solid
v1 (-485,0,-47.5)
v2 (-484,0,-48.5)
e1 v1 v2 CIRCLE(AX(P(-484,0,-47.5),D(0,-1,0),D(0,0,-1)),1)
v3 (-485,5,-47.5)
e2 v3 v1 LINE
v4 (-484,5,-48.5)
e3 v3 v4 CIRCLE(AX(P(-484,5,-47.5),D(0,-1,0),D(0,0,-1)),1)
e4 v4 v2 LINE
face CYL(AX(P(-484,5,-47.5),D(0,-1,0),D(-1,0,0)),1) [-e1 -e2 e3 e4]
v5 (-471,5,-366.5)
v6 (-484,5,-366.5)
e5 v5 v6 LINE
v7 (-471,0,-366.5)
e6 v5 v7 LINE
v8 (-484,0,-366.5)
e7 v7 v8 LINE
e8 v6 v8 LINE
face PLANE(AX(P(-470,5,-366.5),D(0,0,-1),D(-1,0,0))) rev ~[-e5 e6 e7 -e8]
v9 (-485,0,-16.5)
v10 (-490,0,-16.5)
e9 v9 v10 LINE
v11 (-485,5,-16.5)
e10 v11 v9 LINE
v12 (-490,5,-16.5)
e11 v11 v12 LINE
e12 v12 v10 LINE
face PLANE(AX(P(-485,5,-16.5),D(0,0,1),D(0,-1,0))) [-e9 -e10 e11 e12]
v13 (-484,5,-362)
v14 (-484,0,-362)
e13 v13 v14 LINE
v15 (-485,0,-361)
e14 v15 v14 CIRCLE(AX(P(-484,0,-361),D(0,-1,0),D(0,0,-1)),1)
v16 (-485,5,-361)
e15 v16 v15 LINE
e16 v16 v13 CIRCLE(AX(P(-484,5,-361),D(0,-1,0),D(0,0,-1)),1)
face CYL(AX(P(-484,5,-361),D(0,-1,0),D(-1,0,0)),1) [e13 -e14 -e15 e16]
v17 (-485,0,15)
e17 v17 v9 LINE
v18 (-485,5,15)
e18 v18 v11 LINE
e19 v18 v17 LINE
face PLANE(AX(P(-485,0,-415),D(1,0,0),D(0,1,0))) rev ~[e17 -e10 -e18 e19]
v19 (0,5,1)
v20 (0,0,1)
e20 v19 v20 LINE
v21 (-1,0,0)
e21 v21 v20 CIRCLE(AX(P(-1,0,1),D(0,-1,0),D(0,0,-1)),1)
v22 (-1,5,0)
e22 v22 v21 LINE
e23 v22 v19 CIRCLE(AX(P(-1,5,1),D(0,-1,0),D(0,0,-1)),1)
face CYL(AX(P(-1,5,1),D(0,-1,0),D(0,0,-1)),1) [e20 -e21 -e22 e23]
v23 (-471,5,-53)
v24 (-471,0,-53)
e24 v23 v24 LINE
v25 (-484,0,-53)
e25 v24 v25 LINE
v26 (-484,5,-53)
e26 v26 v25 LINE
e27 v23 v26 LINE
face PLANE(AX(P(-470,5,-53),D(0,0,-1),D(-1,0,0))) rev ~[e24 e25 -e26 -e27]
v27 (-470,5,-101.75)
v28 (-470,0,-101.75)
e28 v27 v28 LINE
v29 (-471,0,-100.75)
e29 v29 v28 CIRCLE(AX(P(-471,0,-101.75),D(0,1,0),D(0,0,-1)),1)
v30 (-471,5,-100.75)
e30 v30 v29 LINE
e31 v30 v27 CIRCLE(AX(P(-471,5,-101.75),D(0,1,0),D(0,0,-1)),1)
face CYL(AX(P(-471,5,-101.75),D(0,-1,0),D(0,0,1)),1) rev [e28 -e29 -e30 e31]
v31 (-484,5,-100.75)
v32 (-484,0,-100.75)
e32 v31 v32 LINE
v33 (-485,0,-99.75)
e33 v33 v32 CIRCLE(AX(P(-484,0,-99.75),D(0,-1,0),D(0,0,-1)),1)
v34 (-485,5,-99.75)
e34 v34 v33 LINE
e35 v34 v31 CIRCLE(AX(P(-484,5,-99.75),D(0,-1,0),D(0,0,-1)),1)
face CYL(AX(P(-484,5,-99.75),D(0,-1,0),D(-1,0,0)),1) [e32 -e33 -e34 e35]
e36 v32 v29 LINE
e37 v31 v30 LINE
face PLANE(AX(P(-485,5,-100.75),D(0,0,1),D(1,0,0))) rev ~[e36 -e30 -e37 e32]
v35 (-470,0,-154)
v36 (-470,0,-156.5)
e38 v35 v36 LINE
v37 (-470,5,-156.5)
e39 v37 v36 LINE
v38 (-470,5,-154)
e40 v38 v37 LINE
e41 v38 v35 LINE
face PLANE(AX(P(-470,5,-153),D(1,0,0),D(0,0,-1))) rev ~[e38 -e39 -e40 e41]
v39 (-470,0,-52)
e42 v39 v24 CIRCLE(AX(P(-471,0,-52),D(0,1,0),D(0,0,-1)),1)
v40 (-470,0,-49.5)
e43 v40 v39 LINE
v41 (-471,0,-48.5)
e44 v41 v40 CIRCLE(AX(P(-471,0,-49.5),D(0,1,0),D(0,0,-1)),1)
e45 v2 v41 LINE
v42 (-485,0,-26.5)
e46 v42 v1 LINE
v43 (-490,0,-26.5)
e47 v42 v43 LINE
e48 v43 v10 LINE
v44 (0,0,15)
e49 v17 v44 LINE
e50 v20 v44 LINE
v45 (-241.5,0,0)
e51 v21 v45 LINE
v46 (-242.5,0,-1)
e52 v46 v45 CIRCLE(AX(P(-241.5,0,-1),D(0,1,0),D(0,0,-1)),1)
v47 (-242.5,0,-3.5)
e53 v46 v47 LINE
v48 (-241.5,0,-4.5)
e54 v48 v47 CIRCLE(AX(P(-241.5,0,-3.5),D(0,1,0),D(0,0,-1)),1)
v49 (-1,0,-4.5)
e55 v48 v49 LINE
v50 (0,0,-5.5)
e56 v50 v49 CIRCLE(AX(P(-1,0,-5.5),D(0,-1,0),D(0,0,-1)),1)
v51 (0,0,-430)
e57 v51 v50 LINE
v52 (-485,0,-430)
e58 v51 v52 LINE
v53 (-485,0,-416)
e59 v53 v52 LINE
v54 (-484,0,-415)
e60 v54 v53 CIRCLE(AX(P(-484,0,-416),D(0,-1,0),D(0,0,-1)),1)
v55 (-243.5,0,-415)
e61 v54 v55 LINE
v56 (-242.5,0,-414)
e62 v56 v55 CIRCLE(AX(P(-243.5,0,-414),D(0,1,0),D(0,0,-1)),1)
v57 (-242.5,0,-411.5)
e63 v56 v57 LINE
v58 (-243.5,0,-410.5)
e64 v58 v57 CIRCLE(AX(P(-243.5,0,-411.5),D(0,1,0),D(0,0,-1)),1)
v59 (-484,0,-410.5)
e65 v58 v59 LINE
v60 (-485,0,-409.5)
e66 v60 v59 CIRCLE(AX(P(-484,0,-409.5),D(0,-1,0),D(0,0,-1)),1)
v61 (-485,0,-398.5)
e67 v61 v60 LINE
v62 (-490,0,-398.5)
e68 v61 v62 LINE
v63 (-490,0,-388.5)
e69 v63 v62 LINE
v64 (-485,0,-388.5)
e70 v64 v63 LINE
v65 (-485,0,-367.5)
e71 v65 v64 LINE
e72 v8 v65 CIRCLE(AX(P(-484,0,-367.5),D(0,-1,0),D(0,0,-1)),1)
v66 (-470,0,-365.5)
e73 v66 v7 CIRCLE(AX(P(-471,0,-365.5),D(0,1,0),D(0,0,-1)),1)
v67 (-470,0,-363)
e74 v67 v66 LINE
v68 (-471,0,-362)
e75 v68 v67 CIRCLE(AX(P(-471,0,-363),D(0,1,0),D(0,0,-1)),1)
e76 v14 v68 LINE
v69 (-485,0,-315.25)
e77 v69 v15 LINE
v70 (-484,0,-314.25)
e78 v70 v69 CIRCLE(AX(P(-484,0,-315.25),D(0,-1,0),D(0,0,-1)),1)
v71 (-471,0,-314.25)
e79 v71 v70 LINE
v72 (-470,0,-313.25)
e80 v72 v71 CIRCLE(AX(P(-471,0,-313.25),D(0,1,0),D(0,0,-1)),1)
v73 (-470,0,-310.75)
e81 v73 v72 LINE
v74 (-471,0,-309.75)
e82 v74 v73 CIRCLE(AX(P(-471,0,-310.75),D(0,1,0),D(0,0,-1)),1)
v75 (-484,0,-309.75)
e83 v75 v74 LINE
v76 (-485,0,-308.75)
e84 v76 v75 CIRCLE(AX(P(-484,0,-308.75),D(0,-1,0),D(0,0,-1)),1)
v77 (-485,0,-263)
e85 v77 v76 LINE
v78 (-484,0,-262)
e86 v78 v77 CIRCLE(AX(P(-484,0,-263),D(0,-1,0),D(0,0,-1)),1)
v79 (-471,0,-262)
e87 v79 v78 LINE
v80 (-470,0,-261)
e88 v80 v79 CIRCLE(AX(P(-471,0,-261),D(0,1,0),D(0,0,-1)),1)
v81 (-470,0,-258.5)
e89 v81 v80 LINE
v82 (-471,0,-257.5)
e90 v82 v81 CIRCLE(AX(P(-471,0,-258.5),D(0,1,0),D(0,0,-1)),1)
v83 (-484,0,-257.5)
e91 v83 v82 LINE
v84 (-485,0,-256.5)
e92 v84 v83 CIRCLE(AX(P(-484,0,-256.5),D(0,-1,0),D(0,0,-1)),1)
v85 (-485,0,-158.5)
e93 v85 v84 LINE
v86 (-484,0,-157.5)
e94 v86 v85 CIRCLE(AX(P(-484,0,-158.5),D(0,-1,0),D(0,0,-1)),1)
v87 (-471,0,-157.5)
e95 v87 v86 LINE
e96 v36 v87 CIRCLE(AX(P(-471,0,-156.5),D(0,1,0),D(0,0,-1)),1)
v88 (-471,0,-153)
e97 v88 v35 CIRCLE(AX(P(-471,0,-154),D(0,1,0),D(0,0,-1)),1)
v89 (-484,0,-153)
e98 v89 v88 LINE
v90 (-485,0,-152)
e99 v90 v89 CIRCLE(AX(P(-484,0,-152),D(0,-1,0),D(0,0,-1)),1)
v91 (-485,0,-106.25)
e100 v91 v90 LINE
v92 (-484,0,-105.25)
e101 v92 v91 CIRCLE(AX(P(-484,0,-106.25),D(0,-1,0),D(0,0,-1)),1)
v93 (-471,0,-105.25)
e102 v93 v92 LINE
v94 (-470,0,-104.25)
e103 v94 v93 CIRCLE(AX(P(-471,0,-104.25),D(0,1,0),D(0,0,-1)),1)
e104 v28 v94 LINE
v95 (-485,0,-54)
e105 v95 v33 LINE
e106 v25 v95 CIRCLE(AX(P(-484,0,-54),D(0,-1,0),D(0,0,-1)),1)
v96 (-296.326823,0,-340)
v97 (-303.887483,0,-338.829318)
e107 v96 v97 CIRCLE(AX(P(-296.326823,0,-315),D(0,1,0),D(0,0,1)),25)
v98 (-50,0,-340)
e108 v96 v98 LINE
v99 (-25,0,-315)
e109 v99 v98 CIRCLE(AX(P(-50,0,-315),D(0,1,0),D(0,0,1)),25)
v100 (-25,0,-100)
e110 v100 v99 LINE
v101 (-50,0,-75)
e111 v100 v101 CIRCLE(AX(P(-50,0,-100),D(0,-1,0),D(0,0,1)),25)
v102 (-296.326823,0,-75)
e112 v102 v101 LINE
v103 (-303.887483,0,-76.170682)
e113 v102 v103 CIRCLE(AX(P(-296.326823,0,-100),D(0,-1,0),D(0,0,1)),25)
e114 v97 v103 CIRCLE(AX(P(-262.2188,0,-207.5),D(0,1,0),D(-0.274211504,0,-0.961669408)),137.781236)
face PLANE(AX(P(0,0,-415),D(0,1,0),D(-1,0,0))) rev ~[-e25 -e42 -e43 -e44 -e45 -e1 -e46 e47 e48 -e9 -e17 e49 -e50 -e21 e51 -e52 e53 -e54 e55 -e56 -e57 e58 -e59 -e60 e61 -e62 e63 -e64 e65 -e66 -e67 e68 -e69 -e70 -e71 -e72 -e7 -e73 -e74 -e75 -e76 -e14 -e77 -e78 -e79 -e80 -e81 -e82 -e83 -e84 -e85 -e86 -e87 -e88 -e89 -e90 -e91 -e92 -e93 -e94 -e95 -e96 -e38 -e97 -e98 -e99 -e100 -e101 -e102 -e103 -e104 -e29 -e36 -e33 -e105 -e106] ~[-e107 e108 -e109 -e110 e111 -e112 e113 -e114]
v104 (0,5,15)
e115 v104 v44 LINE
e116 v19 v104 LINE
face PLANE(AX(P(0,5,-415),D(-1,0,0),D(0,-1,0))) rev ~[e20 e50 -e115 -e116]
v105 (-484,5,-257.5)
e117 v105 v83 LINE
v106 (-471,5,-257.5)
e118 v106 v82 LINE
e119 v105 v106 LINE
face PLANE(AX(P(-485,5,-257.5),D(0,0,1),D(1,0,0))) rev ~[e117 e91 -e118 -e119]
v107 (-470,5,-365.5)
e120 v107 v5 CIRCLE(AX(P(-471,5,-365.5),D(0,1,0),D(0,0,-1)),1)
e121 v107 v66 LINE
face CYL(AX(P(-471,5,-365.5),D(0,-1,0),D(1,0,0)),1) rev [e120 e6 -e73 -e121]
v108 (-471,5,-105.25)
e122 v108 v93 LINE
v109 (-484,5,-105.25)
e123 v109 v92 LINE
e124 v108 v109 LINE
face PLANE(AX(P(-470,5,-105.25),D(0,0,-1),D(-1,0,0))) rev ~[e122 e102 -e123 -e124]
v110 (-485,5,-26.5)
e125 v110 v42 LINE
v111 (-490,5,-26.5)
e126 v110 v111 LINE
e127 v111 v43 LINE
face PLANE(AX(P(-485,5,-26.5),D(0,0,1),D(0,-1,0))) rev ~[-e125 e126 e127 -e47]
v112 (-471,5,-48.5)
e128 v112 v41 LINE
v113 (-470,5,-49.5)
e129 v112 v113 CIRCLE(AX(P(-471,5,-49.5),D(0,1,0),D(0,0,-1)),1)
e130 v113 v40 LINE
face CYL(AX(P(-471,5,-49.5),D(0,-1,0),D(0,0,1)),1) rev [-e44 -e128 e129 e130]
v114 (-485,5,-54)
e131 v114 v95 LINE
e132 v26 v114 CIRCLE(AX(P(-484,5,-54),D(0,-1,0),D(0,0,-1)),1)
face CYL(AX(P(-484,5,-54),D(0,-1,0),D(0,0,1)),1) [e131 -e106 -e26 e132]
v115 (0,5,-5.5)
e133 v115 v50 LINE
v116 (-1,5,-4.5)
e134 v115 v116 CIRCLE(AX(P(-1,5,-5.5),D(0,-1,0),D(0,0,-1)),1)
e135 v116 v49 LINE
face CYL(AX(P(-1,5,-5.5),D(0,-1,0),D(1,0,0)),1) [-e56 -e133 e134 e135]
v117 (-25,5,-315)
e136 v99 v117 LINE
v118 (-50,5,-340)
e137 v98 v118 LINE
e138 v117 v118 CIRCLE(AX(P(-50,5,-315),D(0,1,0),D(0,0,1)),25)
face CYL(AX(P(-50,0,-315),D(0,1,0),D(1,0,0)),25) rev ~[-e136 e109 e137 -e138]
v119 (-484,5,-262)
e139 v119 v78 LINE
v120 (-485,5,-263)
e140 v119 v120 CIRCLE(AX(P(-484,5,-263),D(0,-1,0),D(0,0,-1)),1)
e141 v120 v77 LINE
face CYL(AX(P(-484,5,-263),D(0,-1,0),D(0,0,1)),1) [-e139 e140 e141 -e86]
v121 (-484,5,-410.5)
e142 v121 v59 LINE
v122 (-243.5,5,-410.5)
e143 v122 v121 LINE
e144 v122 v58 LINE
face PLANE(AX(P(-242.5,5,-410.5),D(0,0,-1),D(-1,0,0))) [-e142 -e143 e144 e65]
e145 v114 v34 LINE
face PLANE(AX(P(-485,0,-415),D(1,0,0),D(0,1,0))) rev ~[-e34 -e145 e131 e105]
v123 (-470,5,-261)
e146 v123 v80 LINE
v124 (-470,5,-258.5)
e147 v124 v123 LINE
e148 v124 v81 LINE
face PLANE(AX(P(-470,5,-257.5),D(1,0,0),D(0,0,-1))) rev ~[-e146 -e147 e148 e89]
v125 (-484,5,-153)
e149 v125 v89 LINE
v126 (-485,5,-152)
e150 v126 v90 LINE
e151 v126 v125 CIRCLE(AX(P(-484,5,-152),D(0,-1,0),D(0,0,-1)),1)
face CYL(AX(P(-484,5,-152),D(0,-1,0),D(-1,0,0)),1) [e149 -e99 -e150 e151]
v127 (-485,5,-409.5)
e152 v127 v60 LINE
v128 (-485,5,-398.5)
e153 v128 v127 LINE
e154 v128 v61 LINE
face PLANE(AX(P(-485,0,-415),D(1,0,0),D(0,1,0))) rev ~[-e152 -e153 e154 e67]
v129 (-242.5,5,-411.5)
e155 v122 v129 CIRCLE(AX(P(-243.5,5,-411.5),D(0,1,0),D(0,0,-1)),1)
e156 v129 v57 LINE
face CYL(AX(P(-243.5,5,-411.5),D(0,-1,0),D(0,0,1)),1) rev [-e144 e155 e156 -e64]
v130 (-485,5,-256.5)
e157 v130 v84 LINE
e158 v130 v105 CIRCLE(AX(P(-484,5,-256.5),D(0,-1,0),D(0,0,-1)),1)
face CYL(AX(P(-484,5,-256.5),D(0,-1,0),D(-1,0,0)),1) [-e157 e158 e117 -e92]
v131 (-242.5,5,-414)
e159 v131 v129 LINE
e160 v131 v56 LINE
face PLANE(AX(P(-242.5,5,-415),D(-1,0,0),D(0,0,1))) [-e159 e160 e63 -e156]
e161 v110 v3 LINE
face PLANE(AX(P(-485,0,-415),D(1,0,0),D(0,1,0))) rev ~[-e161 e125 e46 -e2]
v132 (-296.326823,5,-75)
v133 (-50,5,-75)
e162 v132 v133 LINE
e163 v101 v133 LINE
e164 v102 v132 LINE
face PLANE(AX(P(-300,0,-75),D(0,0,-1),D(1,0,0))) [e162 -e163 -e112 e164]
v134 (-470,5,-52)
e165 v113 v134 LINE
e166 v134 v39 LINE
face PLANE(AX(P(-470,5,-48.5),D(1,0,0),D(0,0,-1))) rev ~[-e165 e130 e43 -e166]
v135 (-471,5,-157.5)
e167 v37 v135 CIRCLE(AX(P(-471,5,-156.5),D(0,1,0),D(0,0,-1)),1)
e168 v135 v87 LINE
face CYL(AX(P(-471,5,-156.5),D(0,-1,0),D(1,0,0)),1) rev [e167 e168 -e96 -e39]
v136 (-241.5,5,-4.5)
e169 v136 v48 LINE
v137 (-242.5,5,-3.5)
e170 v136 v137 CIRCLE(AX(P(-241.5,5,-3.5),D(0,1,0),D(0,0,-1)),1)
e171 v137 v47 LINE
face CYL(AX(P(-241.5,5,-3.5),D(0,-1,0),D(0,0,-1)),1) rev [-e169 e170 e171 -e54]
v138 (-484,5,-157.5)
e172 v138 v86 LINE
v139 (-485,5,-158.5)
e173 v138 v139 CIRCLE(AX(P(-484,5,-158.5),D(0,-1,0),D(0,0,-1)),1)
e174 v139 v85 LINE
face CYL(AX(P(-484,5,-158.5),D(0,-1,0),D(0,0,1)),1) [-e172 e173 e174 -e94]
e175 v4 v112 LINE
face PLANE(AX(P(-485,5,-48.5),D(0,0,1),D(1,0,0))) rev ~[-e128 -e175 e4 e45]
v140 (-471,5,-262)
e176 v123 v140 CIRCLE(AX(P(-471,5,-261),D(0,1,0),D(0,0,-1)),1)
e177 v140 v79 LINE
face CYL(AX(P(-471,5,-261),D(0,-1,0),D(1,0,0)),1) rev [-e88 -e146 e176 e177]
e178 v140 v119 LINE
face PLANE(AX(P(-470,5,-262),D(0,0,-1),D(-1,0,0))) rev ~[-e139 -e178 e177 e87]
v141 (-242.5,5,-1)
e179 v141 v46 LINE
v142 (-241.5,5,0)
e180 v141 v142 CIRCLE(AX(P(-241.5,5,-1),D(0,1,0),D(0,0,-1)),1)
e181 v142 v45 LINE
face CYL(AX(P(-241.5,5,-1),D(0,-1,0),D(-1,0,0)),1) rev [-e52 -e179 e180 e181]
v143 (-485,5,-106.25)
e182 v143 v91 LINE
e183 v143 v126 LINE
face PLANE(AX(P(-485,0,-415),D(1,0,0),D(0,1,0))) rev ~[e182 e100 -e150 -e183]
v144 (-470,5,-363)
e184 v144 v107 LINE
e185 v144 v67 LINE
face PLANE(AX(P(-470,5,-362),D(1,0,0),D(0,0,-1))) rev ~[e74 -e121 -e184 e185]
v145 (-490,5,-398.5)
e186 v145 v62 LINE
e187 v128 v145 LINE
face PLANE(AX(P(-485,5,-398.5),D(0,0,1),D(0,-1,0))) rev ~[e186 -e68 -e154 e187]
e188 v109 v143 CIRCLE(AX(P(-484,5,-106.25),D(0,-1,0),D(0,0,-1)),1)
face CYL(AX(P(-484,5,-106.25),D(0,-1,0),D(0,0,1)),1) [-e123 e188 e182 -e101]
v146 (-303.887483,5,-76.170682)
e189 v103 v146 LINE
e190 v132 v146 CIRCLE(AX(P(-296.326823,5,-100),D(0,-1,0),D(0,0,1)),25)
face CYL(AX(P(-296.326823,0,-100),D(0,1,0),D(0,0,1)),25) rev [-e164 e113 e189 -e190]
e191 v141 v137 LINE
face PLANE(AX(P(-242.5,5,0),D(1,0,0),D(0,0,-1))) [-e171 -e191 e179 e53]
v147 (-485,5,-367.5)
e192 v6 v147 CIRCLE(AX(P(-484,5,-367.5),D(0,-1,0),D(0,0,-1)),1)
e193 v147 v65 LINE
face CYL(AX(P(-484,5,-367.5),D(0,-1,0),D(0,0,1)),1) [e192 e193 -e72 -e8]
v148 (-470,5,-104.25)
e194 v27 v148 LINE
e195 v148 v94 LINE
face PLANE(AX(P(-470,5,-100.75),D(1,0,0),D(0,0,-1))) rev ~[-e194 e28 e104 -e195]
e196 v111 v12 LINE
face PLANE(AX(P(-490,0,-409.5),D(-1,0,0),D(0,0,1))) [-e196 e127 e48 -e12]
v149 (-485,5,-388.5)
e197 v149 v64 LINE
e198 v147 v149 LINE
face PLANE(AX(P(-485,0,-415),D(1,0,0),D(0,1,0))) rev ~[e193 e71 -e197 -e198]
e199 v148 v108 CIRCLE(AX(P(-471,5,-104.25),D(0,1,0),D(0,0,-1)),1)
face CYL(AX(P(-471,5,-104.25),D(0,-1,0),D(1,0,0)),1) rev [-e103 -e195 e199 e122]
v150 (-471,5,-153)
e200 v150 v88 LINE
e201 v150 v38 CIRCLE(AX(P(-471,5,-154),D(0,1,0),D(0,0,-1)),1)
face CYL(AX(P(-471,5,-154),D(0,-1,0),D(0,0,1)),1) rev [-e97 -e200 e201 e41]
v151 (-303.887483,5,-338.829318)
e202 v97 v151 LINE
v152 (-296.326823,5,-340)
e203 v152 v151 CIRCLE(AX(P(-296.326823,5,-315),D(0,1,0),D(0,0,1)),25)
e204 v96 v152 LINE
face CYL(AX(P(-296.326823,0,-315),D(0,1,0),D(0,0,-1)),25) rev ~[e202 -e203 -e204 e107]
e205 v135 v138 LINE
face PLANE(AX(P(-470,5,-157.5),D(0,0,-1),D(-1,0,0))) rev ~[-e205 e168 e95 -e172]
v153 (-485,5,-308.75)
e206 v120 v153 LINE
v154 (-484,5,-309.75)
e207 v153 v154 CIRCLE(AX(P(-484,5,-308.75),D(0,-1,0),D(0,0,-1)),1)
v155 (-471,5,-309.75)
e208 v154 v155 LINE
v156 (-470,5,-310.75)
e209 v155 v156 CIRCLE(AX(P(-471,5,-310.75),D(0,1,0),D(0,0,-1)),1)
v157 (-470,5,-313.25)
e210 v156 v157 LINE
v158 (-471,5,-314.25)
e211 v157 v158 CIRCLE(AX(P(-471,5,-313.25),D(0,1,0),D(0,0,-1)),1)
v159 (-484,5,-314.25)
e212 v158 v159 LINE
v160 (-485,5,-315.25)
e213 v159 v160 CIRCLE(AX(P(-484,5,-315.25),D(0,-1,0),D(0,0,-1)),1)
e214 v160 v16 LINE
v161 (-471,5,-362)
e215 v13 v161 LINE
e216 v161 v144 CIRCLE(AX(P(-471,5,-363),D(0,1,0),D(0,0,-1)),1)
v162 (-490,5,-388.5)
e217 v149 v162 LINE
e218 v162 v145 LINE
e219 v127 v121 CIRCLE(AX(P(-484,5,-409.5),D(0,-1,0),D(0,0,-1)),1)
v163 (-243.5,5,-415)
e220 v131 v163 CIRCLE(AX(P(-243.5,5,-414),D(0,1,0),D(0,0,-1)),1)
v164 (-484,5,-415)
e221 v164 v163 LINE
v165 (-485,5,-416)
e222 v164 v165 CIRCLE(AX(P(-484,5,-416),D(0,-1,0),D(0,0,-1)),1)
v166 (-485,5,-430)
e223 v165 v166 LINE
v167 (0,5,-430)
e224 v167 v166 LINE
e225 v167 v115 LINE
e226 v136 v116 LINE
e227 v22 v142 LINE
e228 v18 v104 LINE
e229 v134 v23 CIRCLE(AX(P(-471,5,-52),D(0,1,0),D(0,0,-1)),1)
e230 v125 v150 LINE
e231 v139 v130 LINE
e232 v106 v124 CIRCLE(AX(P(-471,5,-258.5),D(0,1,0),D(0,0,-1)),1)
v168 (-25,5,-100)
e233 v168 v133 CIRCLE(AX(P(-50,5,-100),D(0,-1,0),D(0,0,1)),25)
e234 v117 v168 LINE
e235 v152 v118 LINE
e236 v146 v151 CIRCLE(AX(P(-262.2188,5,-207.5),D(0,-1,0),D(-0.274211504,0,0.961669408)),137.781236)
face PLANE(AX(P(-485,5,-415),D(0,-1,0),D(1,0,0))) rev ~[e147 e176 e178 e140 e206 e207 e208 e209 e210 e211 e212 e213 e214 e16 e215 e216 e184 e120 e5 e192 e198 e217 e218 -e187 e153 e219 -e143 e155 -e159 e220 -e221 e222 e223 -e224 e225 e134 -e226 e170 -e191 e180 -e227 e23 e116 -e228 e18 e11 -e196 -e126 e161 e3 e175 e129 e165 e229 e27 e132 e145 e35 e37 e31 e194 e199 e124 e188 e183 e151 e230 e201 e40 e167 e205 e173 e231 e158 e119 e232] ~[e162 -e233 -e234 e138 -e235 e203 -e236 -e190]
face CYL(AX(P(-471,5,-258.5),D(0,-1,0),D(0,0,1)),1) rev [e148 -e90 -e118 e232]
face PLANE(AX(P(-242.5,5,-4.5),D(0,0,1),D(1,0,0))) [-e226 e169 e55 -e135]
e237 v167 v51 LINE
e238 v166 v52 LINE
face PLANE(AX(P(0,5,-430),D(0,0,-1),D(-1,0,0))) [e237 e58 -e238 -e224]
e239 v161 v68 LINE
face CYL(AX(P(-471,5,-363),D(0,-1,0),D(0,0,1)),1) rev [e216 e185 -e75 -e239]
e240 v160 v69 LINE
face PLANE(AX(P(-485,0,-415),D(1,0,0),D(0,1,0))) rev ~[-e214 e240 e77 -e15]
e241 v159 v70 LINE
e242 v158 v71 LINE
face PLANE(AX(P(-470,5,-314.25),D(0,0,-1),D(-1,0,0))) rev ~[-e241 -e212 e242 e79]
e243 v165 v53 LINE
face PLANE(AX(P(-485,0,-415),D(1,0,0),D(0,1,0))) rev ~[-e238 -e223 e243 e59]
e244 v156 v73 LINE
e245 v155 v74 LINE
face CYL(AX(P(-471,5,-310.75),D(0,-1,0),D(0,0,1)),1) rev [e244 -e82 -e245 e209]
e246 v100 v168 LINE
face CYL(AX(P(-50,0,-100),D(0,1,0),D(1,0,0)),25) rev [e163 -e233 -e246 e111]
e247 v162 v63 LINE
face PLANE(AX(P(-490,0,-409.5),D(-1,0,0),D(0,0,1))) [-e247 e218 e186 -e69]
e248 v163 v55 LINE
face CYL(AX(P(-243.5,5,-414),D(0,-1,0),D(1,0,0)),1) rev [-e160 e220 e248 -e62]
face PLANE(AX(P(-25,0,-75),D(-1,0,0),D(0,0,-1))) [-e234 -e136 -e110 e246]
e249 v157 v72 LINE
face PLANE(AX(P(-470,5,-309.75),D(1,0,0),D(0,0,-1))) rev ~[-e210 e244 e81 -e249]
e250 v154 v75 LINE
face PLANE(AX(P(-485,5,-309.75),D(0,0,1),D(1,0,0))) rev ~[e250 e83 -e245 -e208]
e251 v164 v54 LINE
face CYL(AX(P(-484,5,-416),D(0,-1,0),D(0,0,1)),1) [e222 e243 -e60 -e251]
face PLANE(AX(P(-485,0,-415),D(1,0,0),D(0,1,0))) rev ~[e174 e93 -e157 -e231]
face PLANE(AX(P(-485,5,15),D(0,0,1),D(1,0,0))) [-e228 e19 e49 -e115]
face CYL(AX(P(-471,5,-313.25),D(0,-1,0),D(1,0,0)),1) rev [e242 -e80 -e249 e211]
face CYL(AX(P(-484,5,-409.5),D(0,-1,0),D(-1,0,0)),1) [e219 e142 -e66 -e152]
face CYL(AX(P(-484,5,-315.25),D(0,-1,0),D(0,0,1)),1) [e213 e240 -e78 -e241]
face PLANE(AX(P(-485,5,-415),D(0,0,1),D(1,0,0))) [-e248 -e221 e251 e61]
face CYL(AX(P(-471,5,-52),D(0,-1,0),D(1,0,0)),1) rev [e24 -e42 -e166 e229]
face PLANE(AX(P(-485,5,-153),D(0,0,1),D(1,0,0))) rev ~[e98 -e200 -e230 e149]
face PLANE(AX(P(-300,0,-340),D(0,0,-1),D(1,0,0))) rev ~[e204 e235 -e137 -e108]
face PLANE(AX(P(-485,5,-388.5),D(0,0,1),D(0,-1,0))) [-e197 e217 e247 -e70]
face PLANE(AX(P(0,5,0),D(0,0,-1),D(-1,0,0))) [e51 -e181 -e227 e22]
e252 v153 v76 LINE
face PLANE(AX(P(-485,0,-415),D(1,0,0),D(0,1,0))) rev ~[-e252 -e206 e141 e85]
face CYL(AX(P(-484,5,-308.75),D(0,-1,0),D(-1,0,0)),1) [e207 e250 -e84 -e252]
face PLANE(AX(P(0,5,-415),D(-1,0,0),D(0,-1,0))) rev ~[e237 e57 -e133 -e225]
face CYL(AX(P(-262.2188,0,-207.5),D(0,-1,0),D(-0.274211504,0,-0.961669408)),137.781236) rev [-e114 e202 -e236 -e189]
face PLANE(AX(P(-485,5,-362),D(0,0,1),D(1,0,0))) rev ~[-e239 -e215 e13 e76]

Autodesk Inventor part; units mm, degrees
ref_plane "YZ Plane" through (0, 0, 0) normal (1, 0, 0) x (0, 1, 0)
ref_plane "XZ Plane" through (0, 0, 0) normal (0, 1, 0) x (-1, 0, 0)
ref_plane "XY Plane" through (0, 0, 0) normal (0, 0, 1) x (1, 0, 0)
sketch "Sketch1" plane through (0, 0, 0) normal (0, 1, 0) x (-1, 0, 0)
  line L0 (0, 0) -> (485, 0)
  line L1 (485, 0) -> (485, -415)
  line L2 (485, -415) -> (0, -415)
  line L3 (0, -415) -> (0, 0)
  line L4 (0, 0) -> (25, 0)
  line L5 (25, 0) -> (25, -415)
  line L6 (25, -415) -> (0, -415)
  line L7 (0, -415) -> (0, 0)
  line L8 (25, 0) -> (300, 0)
  line L9 (300, 0) -> (300, -75)
  line L10 (300, -75) -> (25, -75)
  line L11 (25, -75) -> (25, 0)
  line L12 (25, -415) -> (300, -415)
  line L13 (300, -415) -> (300, -340)
  line L14 (300, -340) -> (25, -340)
  line L15 (25, -340) -> (25, -415)
  line L16 (25, -207.5) -> (400, -207.5)
  arc A0 (300, -340) -> (300, -75) centre (262.2188, -207.5) ccw
  point P0 (25, -340)
  point P1 (25, -75)
  dimension "d0" = 485
  dimension "d1" = 415
  dimension "d2" = 25
  dimension "d3" = 275
  dimension "d4" = 75
  dimension "d5" = 275
  dimension "d6" = 75
  dimension "d7" = 375
extrude "Extrusion1" add sketch "Sketch1" along normal blind 5 contours L0 L5 L2 L3 | L0 L9 L10 L5 | L0 L1 L2 L13 A0 L9 | L5 L14 L13 L2
fillet "Fillet1" radius 25 4 edges at (-25, 2.5, -340) (-25, 2.5, -75) (-300, 2.5, -75) (-300, 2.5, -340)
sketch "Sketch2" plane through (-485, 0, 0) normal (0, 0, 1) x (1, 0, 0)
  line L0 (0, 0) -> (485, 0) projected
  line L1 (0, 5) -> (485, 5) projected
  line L2 (0, 0) -> (485, 0)
  line L3 (485, 0) -> (485, 5)
  line L4 (485, 5) -> (0, 5)
  line L5 (0, 5) -> (0, 0)
extrude "Extrusion2" add sketch "Sketch2" along normal blind 10
sketch "Sketch3" plane through (0, 0, -415) normal (0, 0, -1) x (-1, 0, 0)
  line L0 (485, 0) -> (485, 5) projected
  line L1 (485, 5) -> (0, 5)
  line L2 (0, 5) -> (0, 0)
  line L3 (0, 0) -> (485, 0)
  line L4 (485, 0) -> (485, 5)
extrude "Extrusion3" add sketch "Sketch3" along normal blind 10
sketch "Sketch4" plane through (0, 5, 0) normal (0, 1, 0) x (1, 0, 0)
  line L0 (0, 0) -> (-242.5, 0)
  line L1 (-242.5, 0) -> (-242.5, 4.5)
  line L2 (-242.5, 4.5) -> (0, 4.5)
  line L3 (0, 4.5) -> (0, 0)
  line L4 (-485, -10) -> (-485, 425) projected
  line L5 (-485, 425) -> (-485, 415)
  line L6 (-485, 415) -> (-242.5, 415)
  line L7 (-242.5, 415) -> (-242.5, 410.5)
  line L8 (-242.5, 410.5) -> (-485, 410.5)
  line L9 (-485, 410.5) -> (-485, 415)
  line L10 (0, 425) -> (0, -10) projected
  dimension "d15" = 4.5
  dimension "d16" = 4.5
  dimension "d17" = 242.5
  dimension "d18" = 10
  dimension "d19" = 4.5
  dimension "d20" = 242.5
extrude "Extrusion4" cut sketch "Sketch4" against normal blind 5
sketch "Sketch6" plane through (0, 5, 0) normal (0, 1, 0) x (1, 0, 0)
  line L0 (-485, 410.5) -> (-485, 202.5446)
  line L1 (-485, 410.5) -> (-485, 362)
  line L2 (-485, 362) -> (-470, 362)
  line L3 (-470, 362) -> (-470, 366.5)
  line L4 (-470, 366.5) -> (-485, 366.5)
  line L5 (-485, 366.5) -> (-485, 362)
  line L6 (-485, 309.75) -> (-470, 309.75)
  line L7 (-470, 309.75) -> (-470, 314.25)
  line L8 (-470, 314.25) -> (-485, 314.25)
  line L9 (-485, 314.25) -> (-485, 309.75)
  line L10 (-485, 257.5) -> (-470, 257.5)
  line L11 (-470, 257.5) -> (-470, 262)
  line L12 (-470, 262) -> (-485, 262)
  line L13 (-485, 262) -> (-485, 257.5)
  line L14 (-485, 205.25) -> (-470, 205.25)
  line L15 (-470, 205.25) -> (-470, 209.75)
  line L16 (-470, 209.75) -> (-485, 209.75)
  line L17 (-485, 209.75) -> (-485, 205.25)
  line L18 (-485, 153) -> (-470, 153)
  line L19 (-470, 153) -> (-470, 157.5)
  line L20 (-470, 157.5) -> (-485, 157.5)
  line L21 (-485, 157.5) -> (-485, 153)
  line L22 (-485, 100.75) -> (-470, 100.75)
  line L23 (-470, 100.75) -> (-470, 105.25)
  line L24 (-470, 105.25) -> (-485, 105.25)
  line L25 (-485, 105.25) -> (-485, 100.75)
  line L26 (-485, 48.5) -> (-470, 48.5)
  line L27 (-470, 48.5) -> (-470, 53)
  line L28 (-470, 53) -> (-485, 53)
  line L29 (-485, 53) -> (-485, 48.5)
  line L30 (-485, -10) -> (-485, 410.5) projected
  line L31 (-485, 410.5) -> (-452.1188, 410.5)
  line L32 (-242.5, 410.5) -> (-485, 410.5) projected
  point P0 (0, 0)
  dimension "d27" = 48.5
  dimension "d28" = 15
  dimension "d29" = 4.5
  dimension "d30" = 52.25
  dimension "d32" = 0
extrude "Extrusion5" cut sketch "Sketch6" against normal blind 5 contours L4 L3 L2 L0 | L28 L27 L26 L29 | L24 L23 L22 L25 | L20 L19 L18 L21 | L12 L11 L10 L0 | L8 L7 L6 L0
ref_plane "Work Plane1" through (0, 5, -430.1373) normal (0, 0, -1) x (-1, 0, 0)
fillet "Fillet2" radius 1 32 edges at (-242.5, 2.5, 0) (-242.5, 2.5, -4.5) (0, 2.5, 0) (0, 2.5, -4.5) (-470, 2.5, -48.5) (-470, 2.5, -53) (-485, 2.5, -53) (-485, 2.5, -48.5) (-470, 2.5, -100.75) (-470, 2.5, -105.25) (-485, 2.5, -105.25) (-485, 2.5, -100.75) (-485, 2.5, -157.5) (-485, 2.5, -153) (-470, 2.5, -153) (-470, 2.5, -157.5) (-485, 2.5, -257.5) (-470, 2.5, -257.5) (-470, 2.5, -262) (-485, 2.5, -262) (-470, 2.5, -309.75) (-470, 2.5, -314.25) (-485, 2.5, -314.25) (-485, 2.5, -309.75) (-485, 2.5, -366.5) (-485, 2.5, -362) (-470, 2.5, -362) (-470, 2.5, -366.5) (-485, 2.5, -410.5) (-485, 2.5, -415) (-242.5, 2.5, -410.5) (-242.5, 2.5, -415)
sketch "Sketch10" plane through (-485, 0, -409.5) normal (-1, 0, 0) x (0, 0, 1)
  line L0 (42, 5) -> (0, 5) projected
  line L1 (21, 5) -> (21, 0)
  line L2 (21, 0) -> (11, 0)
  line L3 (0, 0) -> (42, 0) projected
  line L4 (11, 0) -> (31, 0)
  line L5 (31, 0) -> (31, 5)
  line L6 (31, 5) -> (11, 5)
  line L7 (11, 5) -> (11, 0)
  line L8 (70.6707, 5) -> (333.3293, 5) projected
  line L9 (202, 5) -> (202, -36.8909)
  line L10 (383, 5) -> (383, 0)
  line L11 (383, 0) -> (393, 0)
  line L12 (393, 0) -> (373, 0)
  line L13 (373, 0) -> (373, 5)
  line L14 (373, 5) -> (393, 5)
  line L15 (393, 5) -> (393, 0)
  point P0 (409.5, 0)
  point P1 (31, 0)
  point P2 (11, 5)
  dimension "d44" = 10
  dimension "d45" = 20
extrude "Extrusion9" add sketch "Sketch10" along normal blind 5 contours L1 L2 L7 L0 | L14 L15 L11 L10
sketch "Sketch12" plane through (0, 5, 0) normal (0, 1, 0) x (1, 0, 0)
  line L0 (0, -10) -> (-485, -10)
  line L1 (-485, -10) -> (-485, -15)
  line L2 (-485, -15) -> (0, -15)
  line L3 (0, -15) -> (0, -10)
  line L4 (0, 425) -> (-485, 425) projected
  line L5 (-485, 425) -> (0, 425)
  line L6 (0, 425) -> (0, 430)
  line L7 (0, 430) -> (-485, 430)
  line L8 (-485, 430) -> (-485, 425)
  point P0 (0, 0)
  dimension "d48" = 5
  dimension "d49" = 5
extrude "Extrusion10" add sketch "Sketch12" against normal blind 5
properties part number "outside_leg" material "Foam Core Board"
